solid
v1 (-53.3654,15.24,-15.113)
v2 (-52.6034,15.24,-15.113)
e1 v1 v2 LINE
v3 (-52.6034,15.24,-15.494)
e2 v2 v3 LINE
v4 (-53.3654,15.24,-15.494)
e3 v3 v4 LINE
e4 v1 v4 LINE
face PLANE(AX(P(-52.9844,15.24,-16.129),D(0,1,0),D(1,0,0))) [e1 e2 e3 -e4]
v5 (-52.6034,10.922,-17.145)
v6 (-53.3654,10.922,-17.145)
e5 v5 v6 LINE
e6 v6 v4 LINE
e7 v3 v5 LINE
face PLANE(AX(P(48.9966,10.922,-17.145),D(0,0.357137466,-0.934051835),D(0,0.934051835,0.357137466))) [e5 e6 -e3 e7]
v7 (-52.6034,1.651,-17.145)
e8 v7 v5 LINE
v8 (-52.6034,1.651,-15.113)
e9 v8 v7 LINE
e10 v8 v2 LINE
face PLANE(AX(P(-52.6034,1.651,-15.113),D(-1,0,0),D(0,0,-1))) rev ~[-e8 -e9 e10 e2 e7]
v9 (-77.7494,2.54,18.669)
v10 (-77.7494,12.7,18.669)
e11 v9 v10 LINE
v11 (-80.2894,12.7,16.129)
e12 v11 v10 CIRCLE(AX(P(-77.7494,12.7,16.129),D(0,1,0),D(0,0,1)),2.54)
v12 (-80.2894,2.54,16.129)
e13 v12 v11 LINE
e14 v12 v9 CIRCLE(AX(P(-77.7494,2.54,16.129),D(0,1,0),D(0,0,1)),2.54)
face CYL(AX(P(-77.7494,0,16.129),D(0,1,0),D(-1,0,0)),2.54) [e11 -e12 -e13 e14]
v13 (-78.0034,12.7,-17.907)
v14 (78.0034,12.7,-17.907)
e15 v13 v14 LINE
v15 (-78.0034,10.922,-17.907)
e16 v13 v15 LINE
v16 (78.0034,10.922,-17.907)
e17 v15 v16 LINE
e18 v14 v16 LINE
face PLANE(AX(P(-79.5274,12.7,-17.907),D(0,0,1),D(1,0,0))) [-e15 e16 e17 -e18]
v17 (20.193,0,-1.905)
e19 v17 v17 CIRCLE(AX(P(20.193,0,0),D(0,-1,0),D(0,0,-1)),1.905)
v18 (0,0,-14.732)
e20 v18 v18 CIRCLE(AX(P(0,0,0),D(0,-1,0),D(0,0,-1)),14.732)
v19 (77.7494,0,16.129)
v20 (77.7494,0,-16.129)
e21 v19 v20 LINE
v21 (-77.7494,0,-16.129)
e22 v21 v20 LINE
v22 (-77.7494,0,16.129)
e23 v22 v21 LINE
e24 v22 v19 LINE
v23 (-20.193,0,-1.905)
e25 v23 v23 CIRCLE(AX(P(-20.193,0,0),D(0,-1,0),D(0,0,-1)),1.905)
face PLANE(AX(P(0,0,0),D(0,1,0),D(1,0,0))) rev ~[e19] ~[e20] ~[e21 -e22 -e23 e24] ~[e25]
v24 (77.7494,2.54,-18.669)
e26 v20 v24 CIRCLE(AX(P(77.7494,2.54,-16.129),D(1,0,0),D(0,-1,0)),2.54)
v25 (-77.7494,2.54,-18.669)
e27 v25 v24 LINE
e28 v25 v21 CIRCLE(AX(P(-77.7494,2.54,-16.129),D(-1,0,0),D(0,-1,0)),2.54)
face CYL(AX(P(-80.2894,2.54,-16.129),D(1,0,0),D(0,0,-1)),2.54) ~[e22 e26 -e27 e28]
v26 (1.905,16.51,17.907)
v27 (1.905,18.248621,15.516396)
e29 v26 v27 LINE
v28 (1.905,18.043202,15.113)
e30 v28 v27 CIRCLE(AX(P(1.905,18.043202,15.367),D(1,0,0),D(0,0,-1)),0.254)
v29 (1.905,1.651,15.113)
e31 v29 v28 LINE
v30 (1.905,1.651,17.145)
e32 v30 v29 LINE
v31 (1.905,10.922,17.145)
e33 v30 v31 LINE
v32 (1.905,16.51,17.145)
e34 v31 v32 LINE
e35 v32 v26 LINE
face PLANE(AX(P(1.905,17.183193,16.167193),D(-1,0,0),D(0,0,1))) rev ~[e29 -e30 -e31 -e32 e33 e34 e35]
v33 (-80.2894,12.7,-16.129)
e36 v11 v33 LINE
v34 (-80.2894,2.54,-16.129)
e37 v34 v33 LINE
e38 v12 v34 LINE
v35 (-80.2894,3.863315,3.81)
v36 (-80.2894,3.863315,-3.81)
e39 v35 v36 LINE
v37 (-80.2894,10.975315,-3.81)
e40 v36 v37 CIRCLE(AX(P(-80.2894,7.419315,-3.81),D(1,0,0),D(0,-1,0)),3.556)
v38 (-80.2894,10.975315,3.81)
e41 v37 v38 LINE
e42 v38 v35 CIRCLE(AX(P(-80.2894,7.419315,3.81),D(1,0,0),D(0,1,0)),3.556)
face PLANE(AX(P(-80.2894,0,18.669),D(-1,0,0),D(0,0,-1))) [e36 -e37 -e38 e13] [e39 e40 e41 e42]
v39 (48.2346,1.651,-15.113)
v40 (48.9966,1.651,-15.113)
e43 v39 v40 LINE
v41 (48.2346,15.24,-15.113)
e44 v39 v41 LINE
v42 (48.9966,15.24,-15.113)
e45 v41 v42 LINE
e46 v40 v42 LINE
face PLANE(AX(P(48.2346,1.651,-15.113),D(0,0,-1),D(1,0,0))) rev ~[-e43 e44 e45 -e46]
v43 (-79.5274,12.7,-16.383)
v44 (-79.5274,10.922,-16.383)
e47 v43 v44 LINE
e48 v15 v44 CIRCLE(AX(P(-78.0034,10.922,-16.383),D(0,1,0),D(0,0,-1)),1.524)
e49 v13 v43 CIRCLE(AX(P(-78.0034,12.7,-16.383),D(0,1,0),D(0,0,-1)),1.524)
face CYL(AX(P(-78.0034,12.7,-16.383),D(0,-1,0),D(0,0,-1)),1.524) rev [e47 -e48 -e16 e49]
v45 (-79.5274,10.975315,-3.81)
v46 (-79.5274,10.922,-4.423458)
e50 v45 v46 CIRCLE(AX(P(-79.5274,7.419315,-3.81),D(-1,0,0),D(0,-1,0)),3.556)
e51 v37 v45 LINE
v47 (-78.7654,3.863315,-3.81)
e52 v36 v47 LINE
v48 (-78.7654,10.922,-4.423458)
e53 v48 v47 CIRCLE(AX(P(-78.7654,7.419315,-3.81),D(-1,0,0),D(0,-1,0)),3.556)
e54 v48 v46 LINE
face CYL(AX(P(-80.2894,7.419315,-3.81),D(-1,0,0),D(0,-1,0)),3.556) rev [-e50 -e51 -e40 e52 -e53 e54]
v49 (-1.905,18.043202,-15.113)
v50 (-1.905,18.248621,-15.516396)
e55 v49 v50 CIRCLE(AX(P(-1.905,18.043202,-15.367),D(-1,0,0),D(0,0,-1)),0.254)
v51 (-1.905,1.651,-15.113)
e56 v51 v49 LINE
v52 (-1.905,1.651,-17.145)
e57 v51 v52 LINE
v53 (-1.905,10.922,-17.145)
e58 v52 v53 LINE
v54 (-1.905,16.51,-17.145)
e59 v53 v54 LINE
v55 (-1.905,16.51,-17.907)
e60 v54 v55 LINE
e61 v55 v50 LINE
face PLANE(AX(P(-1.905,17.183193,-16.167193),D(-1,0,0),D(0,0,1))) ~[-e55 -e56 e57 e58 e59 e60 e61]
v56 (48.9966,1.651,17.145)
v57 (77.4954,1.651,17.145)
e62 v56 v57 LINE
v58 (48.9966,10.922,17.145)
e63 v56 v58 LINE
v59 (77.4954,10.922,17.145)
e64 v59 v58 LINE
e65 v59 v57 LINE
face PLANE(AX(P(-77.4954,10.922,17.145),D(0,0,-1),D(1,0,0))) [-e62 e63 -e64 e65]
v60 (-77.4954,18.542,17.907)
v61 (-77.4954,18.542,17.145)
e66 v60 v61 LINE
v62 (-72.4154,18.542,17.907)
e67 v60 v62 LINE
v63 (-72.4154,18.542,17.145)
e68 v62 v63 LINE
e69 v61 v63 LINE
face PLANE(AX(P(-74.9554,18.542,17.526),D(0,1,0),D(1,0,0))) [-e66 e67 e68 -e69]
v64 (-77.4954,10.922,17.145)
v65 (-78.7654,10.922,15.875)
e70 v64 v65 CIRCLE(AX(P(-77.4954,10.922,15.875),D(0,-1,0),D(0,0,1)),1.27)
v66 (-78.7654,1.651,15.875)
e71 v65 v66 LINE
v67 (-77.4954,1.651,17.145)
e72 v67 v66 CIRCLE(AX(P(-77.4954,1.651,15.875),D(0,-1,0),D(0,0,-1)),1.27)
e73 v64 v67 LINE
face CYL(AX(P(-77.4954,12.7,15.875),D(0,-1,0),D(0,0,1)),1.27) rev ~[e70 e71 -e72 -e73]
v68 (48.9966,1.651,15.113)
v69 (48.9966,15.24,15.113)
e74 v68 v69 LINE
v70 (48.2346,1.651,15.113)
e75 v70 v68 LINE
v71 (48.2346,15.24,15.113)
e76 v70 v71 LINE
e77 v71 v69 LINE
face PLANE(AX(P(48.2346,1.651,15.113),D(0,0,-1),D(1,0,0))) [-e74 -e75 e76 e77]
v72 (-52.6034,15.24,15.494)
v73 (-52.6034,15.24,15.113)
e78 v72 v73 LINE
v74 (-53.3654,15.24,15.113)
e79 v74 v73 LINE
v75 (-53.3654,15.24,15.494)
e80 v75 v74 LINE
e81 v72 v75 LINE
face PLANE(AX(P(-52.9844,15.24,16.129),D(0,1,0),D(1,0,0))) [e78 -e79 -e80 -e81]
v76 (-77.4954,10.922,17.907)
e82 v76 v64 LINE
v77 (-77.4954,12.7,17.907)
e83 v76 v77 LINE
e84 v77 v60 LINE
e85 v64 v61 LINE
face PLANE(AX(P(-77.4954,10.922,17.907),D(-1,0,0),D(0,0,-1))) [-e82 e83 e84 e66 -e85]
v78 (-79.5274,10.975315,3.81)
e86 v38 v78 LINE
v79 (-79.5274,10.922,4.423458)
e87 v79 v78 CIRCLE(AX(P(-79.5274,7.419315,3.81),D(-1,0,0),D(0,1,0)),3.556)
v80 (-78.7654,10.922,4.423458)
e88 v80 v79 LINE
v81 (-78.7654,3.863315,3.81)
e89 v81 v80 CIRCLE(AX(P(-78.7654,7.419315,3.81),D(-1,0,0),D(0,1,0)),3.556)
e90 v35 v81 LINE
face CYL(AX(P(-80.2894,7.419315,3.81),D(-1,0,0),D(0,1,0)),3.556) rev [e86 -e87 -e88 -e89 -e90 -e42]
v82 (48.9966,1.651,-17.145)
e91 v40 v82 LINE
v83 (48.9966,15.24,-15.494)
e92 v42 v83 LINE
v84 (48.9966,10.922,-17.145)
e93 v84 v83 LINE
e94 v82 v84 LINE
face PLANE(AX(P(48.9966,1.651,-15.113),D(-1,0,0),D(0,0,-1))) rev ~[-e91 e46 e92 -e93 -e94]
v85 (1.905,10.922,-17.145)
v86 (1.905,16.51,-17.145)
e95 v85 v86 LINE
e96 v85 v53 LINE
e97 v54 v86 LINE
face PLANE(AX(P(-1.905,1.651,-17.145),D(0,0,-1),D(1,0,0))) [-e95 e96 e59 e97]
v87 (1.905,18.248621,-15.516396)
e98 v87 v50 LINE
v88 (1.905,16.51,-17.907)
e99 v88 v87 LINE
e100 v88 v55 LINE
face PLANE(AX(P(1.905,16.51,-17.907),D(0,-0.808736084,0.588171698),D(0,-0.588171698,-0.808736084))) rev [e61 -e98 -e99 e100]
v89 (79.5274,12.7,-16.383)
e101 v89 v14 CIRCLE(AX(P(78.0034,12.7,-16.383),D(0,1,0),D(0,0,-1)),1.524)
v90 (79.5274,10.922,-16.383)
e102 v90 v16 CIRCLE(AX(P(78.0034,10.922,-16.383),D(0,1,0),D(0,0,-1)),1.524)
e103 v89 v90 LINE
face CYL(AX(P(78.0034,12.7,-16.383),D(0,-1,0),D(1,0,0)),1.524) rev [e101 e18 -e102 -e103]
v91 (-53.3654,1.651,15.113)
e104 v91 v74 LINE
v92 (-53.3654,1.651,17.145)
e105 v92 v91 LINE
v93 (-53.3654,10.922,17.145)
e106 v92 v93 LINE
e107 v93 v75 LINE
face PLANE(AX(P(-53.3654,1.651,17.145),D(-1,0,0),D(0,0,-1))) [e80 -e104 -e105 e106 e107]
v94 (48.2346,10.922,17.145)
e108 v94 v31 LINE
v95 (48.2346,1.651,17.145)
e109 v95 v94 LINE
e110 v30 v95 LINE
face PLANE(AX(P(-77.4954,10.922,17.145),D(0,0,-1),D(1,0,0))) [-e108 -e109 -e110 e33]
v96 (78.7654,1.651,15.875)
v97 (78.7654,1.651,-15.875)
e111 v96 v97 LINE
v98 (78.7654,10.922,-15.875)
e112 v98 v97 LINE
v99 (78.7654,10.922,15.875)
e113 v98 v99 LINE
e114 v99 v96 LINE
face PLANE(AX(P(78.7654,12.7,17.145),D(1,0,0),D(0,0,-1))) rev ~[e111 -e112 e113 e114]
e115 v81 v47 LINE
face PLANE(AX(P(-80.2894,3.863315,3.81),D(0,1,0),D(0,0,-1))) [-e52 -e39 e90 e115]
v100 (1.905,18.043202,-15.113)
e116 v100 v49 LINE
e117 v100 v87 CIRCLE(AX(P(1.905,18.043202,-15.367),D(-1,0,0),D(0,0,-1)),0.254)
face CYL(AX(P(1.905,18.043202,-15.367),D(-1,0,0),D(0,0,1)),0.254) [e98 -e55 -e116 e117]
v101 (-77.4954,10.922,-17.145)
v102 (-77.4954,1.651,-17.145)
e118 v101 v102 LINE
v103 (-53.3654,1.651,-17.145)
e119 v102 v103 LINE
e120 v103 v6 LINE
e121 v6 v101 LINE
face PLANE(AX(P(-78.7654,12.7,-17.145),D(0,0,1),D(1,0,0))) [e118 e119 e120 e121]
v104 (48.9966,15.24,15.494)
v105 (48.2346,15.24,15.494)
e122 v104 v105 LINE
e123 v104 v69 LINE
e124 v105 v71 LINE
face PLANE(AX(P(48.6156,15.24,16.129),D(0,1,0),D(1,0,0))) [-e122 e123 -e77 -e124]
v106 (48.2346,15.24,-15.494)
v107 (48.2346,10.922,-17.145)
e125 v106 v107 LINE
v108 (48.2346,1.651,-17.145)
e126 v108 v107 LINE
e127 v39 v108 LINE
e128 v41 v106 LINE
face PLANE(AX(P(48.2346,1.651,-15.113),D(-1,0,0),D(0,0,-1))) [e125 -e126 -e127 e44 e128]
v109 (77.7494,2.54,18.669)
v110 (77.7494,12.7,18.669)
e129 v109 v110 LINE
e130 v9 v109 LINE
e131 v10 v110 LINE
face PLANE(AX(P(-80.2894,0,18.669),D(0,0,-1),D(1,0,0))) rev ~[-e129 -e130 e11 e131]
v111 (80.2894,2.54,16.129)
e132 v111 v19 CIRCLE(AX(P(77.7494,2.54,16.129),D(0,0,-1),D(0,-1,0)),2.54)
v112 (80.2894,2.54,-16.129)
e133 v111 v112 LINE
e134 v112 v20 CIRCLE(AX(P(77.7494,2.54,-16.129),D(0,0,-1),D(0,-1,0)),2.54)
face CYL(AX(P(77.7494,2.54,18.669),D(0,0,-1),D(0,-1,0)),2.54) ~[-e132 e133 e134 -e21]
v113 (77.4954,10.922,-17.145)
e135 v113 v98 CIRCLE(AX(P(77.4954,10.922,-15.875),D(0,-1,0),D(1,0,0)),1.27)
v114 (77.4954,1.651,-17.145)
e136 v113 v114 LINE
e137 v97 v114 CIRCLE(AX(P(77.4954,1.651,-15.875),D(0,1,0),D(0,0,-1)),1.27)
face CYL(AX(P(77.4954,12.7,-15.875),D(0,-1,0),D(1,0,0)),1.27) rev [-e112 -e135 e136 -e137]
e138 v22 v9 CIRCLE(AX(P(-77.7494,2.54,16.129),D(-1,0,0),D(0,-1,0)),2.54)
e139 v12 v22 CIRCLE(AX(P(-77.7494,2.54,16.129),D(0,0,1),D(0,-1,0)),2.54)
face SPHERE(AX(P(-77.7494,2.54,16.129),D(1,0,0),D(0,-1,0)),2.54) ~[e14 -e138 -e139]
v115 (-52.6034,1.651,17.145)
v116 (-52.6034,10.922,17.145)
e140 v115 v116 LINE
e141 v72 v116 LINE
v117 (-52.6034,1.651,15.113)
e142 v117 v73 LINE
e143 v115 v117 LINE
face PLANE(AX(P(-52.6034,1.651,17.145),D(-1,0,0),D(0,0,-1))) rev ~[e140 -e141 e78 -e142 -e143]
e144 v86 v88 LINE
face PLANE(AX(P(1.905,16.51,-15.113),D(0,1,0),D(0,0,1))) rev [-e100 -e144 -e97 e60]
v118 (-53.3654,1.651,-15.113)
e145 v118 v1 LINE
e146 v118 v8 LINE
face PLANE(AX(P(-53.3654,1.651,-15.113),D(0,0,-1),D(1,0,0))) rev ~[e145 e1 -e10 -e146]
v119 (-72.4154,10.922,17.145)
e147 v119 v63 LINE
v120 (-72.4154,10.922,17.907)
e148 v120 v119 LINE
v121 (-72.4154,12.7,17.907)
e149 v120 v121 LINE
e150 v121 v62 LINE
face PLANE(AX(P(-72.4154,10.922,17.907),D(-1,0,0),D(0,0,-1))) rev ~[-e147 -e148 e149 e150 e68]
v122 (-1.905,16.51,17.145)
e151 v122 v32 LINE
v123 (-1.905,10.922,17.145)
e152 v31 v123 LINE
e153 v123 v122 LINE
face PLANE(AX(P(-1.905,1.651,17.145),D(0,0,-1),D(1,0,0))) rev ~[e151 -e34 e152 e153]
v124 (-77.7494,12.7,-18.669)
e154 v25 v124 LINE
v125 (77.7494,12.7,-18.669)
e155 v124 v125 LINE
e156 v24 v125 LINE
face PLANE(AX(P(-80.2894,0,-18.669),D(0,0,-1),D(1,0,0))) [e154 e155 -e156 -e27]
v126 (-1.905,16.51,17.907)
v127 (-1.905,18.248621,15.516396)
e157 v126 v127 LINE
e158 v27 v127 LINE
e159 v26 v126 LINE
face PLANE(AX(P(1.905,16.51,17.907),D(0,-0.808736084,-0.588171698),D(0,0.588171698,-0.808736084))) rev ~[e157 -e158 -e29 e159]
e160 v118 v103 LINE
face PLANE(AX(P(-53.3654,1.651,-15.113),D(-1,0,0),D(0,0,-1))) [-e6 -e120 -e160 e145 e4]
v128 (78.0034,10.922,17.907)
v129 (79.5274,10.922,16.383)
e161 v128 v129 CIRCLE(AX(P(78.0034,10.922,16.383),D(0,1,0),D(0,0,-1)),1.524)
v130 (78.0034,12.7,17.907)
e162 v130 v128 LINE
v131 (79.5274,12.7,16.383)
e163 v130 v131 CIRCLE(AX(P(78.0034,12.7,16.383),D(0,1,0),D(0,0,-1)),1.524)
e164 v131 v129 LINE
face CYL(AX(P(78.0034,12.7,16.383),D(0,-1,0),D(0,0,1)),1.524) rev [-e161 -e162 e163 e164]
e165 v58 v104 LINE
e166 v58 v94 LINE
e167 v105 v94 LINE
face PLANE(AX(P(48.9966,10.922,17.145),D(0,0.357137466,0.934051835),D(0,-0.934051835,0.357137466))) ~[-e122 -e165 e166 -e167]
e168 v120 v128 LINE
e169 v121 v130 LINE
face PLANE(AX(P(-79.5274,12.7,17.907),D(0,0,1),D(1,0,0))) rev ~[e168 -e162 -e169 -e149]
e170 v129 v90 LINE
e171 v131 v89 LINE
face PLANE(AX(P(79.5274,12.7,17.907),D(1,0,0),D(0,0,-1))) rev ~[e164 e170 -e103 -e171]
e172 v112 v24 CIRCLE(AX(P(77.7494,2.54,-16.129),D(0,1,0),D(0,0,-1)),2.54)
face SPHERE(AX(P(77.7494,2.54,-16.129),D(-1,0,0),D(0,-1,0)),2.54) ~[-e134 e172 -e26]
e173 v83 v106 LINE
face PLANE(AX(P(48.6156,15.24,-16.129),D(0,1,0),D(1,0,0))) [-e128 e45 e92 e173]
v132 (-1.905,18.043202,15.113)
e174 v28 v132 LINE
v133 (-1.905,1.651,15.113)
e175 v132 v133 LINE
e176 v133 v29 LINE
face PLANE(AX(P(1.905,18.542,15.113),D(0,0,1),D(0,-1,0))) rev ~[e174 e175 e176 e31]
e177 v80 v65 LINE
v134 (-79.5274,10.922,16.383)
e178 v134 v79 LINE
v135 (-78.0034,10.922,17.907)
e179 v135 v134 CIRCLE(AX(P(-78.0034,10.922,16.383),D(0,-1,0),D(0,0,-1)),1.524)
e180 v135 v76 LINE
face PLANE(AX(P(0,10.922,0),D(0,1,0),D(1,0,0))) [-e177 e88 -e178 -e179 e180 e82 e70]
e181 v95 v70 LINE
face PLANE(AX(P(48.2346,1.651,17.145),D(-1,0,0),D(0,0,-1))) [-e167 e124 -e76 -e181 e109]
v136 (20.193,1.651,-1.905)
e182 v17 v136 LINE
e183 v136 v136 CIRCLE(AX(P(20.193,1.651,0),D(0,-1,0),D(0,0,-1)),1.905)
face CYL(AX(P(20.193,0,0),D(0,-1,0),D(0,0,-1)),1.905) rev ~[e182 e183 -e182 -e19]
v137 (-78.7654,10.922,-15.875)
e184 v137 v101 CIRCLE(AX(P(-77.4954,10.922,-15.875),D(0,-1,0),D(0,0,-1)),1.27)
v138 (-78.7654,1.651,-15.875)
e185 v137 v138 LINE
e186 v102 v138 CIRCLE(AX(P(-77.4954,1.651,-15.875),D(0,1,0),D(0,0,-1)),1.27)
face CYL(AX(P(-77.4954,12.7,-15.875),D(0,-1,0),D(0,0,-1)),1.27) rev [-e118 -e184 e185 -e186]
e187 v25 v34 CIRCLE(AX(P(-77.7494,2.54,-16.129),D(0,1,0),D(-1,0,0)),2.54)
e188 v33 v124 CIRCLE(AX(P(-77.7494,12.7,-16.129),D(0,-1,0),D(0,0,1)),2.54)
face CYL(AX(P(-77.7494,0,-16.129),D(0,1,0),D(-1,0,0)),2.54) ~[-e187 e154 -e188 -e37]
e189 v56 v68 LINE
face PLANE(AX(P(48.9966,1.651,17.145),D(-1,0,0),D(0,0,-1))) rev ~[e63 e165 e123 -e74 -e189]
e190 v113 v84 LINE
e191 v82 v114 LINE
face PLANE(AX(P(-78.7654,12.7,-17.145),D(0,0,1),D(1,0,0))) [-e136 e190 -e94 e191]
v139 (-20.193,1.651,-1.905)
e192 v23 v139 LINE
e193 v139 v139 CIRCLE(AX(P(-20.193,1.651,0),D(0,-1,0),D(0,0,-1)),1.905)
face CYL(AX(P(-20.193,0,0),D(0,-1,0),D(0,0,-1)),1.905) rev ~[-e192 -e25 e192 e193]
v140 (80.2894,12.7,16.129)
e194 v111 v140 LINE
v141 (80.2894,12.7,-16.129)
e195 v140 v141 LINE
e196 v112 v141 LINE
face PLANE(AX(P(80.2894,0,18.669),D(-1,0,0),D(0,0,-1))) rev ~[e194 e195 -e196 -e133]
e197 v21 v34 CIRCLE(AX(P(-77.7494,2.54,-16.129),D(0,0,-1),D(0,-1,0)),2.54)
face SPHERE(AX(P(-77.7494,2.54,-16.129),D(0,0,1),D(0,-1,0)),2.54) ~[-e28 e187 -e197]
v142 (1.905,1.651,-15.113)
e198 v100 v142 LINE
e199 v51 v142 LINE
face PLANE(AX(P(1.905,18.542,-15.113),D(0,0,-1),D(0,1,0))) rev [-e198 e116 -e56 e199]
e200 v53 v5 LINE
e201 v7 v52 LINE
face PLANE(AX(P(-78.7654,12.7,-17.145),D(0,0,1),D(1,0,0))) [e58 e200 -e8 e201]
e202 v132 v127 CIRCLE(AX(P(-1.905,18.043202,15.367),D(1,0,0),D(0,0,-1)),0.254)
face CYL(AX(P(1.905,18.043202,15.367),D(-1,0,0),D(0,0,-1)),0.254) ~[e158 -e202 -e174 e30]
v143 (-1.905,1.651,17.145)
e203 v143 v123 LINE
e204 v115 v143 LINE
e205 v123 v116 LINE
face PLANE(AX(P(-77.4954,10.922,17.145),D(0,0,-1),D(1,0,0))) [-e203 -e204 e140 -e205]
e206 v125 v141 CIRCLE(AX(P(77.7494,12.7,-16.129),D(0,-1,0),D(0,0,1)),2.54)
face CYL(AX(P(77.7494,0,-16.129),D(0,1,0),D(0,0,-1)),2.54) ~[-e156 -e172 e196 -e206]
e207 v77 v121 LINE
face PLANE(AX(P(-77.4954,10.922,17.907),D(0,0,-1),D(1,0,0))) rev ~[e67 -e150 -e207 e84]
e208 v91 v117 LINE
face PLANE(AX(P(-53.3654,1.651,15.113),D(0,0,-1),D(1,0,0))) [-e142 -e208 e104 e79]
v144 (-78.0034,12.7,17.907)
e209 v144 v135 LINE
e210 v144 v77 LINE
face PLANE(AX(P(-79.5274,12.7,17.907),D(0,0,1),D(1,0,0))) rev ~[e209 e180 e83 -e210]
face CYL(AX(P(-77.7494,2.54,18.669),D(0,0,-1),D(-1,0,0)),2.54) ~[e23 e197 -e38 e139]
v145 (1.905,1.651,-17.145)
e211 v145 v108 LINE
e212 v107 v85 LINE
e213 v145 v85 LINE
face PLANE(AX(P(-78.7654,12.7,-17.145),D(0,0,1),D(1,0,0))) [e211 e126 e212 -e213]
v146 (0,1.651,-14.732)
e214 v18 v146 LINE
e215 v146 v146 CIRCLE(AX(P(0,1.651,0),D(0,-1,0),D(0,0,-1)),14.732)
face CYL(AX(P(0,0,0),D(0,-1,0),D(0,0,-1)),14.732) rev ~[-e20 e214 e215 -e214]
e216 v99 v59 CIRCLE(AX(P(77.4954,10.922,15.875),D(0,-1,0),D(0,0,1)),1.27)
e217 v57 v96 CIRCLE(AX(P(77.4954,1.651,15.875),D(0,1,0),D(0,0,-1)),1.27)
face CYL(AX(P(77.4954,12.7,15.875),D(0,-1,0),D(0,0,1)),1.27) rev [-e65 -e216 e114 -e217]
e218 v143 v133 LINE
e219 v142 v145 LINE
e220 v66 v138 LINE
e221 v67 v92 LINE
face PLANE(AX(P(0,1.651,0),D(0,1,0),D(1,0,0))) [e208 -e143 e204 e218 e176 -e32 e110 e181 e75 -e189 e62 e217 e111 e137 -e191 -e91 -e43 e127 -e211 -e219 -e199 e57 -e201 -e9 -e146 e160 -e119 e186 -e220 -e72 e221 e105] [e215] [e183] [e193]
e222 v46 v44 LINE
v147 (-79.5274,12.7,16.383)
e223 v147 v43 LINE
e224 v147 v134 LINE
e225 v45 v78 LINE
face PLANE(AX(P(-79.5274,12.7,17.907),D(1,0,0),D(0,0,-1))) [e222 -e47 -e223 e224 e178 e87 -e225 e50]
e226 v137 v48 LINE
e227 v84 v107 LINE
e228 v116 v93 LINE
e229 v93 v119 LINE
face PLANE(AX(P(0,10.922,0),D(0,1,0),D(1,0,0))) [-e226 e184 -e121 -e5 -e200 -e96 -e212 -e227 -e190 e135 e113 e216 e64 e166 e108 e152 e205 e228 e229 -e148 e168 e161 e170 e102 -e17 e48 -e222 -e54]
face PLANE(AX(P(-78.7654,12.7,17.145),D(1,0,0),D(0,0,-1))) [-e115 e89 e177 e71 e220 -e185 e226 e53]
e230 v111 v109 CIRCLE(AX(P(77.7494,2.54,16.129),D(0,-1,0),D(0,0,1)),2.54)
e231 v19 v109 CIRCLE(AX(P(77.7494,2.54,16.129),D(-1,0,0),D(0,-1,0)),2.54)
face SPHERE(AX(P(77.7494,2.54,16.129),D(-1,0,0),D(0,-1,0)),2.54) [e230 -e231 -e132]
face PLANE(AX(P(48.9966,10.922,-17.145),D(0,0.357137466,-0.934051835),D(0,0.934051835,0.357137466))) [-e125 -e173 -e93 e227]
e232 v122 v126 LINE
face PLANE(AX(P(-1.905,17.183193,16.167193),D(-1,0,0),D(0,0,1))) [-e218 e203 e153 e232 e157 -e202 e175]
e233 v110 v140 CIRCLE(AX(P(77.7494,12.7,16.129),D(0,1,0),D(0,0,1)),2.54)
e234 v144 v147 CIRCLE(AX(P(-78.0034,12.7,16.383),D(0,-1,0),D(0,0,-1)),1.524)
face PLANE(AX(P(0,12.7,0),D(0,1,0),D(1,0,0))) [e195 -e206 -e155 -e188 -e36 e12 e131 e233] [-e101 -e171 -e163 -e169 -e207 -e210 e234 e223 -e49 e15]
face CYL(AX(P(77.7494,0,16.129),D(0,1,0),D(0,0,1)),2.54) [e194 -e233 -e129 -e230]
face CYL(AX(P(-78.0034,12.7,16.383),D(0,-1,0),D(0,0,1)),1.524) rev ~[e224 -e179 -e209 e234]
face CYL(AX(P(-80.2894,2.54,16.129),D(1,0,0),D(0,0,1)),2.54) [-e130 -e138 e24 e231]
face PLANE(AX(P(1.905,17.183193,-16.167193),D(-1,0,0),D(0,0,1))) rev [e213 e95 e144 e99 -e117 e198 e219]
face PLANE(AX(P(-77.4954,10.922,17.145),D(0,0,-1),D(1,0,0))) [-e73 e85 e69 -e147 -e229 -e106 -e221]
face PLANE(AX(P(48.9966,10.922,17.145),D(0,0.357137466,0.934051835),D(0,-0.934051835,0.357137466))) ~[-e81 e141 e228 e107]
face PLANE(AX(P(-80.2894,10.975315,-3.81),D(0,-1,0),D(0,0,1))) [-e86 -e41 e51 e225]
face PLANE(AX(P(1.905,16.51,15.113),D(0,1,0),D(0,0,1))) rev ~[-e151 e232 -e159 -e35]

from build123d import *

# Parameters (mm, degrees)
SKETCH1_W            = 160.5788
SKETCH1_H            = 37.338
BOSS_EXTRUDE1_DEPTH  = 12.7
SKETCH2_W            = 157.5308
SKETCH2_H            = 34.29
CUT_EXTRUDE3_DEPTH   = 11.049
FILLET1_R            = 2.54
FILLET2_R            = 1.27
CUT_EXTRUDE4_REACH   = 164.158
SKETCH4_W            = 159.0548
SKETCH4_H            = 35.814
CUT_EXTRUDE5_DEPTH   = 1.778
FILLET3_R            = 1.524
SKETCH5_W            = 5.08
SKETCH5_H            = 0.762
BOSS_EXTRUDE2_DEPTH  = 7.62
SKETCH6_W            = 0.762
SKETCH6_H            = 2.032
BOSS_EXTRUDE3_DEPTH  = 13.589
LPATTERN1_COUNT      = 2
LPATTERN1_PITCH      = 101.6
LPATTERN1_COUNT_DIR2 = 2
LPATTERN1_PITCH_DIR2 = 32.258
CUT_EXTRUDE6_REACH   = 133.936
SKETCH8_W            = 3.81
SKETCH8_H            = 2.032
BOSS_EXTRUDE4_DEPTH  = 14.859
BOSS_EXTRUDE9_DEPTH  = 3.81
FILLET4_R            = 0.254
FILLET4_OF_MIRROR2_R = 0.254
SKETCH10_R           = 14.732
SKETCH10_R_2         = 1.905
CUT_EXTRUDE7_DEPTH   = 85.490976307


with BuildPart() as part:
    # Sketch1 → Boss-Extrude1 (new body)
    with BuildSketch(Plane(origin=(0, 0, 0), x_dir=(1, 0, 0), z_dir=(0, 1, 0))):
        Rectangle(SKETCH1_W, SKETCH1_H)
    extrude(amount=BOSS_EXTRUDE1_DEPTH)

    # Sketch2 → Cut-Extrude3 (cut)
    with BuildSketch(Plane(origin=(0, 12.7, 0), x_dir=(1, 0, 0), z_dir=(0, 1, 0))):
        Rectangle(SKETCH2_W, SKETCH2_H)
    extrude(amount=-CUT_EXTRUDE3_DEPTH, mode=Mode.SUBTRACT)

    # Fillet1
    fillet1_edges = [part.edges().sort_by_distance(p)[0] for p in [
        (0, 0, 18.669),
        (-80.2894, 0, 0),
        (0, 0, -18.669),
        (80.2894, 0, 0),
        (80.2894, 6.35, 18.669),
        (-80.2894, 6.35, 18.669),
        (-80.2894, 6.35, -18.669),
        (80.2894, 6.35, -18.669),
    ]]
    fillet(fillet1_edges, radius=FILLET1_R)

    # Fillet2
    fillet2_edges = [part.edges().sort_by_distance(p)[0] for p in [
        (-78.7654, 7.1755, -17.145),
        (-78.7654, 7.1755, 17.145),
        (78.7654, 7.1755, 17.145),
        (78.7654, 7.1755, -17.145),
    ]]
    fillet(fillet2_edges, radius=FILLET2_R)

    # Sketch3 → Cut-Extrude4 (cut, up to next)
    with BuildSketch(Plane.ZY.offset(80.2894), mode=Mode.PRIVATE) as cut_extrude4_sk1:
        with BuildLine():
            Line((3.81, 3.8633146), (-3.81, 3.8633146))
            ThreePointArc((-3.81, 3.8633146), (-7.366, 7.4193146), (-3.81, 10.9753146))
            Line((-3.81, 10.9753146), (3.81, 10.9753146))
            ThreePointArc((3.81, 10.9753146), (7.366, 7.4193146), (3.81, 3.8633146))
        make_face()
    cut_extrude4_tool1 = extrude(cut_extrude4_sk1.sketch, amount=-CUT_EXTRUDE4_REACH, mode=Mode.PRIVATE) & part.part
    add(cut_extrude4_tool1.solids().sort_by_distance((-80.2894, 7.419315, 0))[0], mode=Mode.SUBTRACT)

    # Sketch4 → Cut-Extrude5 (cut)
    with BuildSketch(Plane(origin=(0, 12.7, 0), x_dir=(1, 0, 0), z_dir=(0, 1, 0))):
        Rectangle(SKETCH4_W, SKETCH4_H)
    extrude(amount=-CUT_EXTRUDE5_DEPTH, mode=Mode.SUBTRACT)

    # Fillet3
    fillet3_edges = [part.edges().sort_by_distance(p)[0] for p in [
        (-79.5274, 11.811, 17.907),
        (-79.5274, 11.811, -17.907),
        (79.5274, 11.811, -17.907),
        (79.5274, 11.811, 17.907),
    ]]
    fillet(fillet3_edges, radius=FILLET3_R)

    # Sketch5 → Boss-Extrude2 (add)
    with BuildSketch(Plane(origin=(0, 10.922, 0), x_dir=(1, 0, 0), z_dir=(0, 1, 0))):
        with Locations((-74.9554, -17.526)):
            Rectangle(SKETCH5_W, SKETCH5_H)
    extrude(amount=BOSS_EXTRUDE2_DEPTH)

    # Sketch6 → Boss-Extrude3 (add)
    with BuildSketch(Plane(origin=(0, 1.651, 0), x_dir=(1, 0, 0), z_dir=(0, 1, 0))):
        with Locations((-52.9844, 16.129)):
            Rectangle(SKETCH6_W, SKETCH6_H)
    boss_extrude3 = extrude(amount=BOSS_EXTRUDE3_DEPTH)

    # LPattern1: Boss-Extrude3 2 × 2
    with Locations(*[(i * LPATTERN1_PITCH, 0, j * LPATTERN1_PITCH_DIR2) for i in range(LPATTERN1_COUNT) for j in range(LPATTERN1_COUNT_DIR2) if (i, j) != (0, 0)]):
        add(boss_extrude3)

    # Cut-Extrude6: up to this face of the body (flat: up to its plane)
    cut_extrude6_end = Plane(part.part.faces().sort_by_distance((-53.3654, 8.4455, -16.129))[0])
    # Sketch7 → Cut-Extrude6 (cut, up to the picked face)
    with BuildSketch(Plane(origin=(48.9966, 0, 0), x_dir=(0, 0, -1), z_dir=(1, 0, 0)), mode=Mode.PRIVATE) as cut_extrude6_sk1:
        Polygon((17.145, 10.922), (15.494, 15.24), (17.145, 15.24), align=None)
    cut_extrude6_tool1 = split(extrude(cut_extrude6_sk1.sketch, amount=-CUT_EXTRUDE6_REACH, mode=Mode.PRIVATE), bisect_by=cut_extrude6_end, keep=Keep.BOTH, mode=Mode.PRIVATE)
    cut_extrude6 = cut_extrude6_tool1.solids().sort_by(Axis((48.9966, 13.800667, -16.594667), (-1, 0, 0)))[0]
    add(cut_extrude6, mode=Mode.SUBTRACT)

    # Mirror1: Cut-Extrude6 across plane
    add(cut_extrude6.mirror(Plane.XY), mode=Mode.SUBTRACT)

    # Sketch8 → Boss-Extrude4 (add)
    with BuildSketch(Plane(origin=(0, 1.651, 0), x_dir=(1, 0, 0), z_dir=(0, 1, 0))):
        with Locations((0, -16.129)):
            Rectangle(SKETCH8_W, SKETCH8_H)
        with Locations((0, 16.129)):
            Rectangle(SKETCH8_W, SKETCH8_H)
    extrude(amount=BOSS_EXTRUDE4_DEPTH)

    # Sketch9 → Boss-Extrude9 (add)
    with BuildSketch(Plane(origin=(1.905, 0, 0), x_dir=(0, 0, -1), z_dir=(1, 0, 0))):
        Polygon((-15.113, 16.51), (-17.907, 16.51), (-15.113, 18.542), align=None)
    boss_extrude9 = extrude(amount=-BOSS_EXTRUDE9_DEPTH)

    # Fillet4
    fillet4_edges = [part.edges().sort_by_distance(p)[0] for p in [
        (0, 18.542, 15.113),
    ]]
    fillet(fillet4_edges, radius=FILLET4_R)

    # Mirror2: Boss-Extrude9 across plane
    add(boss_extrude9.mirror(Plane.XY))

    # Fillet4 of Mirror2
    fillet4_of_mirror2_edges = [part.edges().sort_by_distance(p)[0] for p in [
        (0, 18.542, -15.113),
    ]]
    fillet(fillet4_of_mirror2_edges, radius=FILLET4_OF_MIRROR2_R)

    # Sketch10 → Cut-Extrude7 (cut, through all)
    with BuildSketch(Plane.XZ):
        with Locations(Location((0, 0, 0), (0, 0, 270))):
            Circle(SKETCH10_R)
        with Locations(Location((-20.193, 0, 0), (0, 0, 270))):
            Circle(SKETCH10_R_2)
        with Locations(Location((20.193, 0, 0), (0, 0, 270))):
            Circle(SKETCH10_R_2)
    extrude(amount=-CUT_EXTRUDE7_DEPTH, mode=Mode.SUBTRACT)


solid = part.part
